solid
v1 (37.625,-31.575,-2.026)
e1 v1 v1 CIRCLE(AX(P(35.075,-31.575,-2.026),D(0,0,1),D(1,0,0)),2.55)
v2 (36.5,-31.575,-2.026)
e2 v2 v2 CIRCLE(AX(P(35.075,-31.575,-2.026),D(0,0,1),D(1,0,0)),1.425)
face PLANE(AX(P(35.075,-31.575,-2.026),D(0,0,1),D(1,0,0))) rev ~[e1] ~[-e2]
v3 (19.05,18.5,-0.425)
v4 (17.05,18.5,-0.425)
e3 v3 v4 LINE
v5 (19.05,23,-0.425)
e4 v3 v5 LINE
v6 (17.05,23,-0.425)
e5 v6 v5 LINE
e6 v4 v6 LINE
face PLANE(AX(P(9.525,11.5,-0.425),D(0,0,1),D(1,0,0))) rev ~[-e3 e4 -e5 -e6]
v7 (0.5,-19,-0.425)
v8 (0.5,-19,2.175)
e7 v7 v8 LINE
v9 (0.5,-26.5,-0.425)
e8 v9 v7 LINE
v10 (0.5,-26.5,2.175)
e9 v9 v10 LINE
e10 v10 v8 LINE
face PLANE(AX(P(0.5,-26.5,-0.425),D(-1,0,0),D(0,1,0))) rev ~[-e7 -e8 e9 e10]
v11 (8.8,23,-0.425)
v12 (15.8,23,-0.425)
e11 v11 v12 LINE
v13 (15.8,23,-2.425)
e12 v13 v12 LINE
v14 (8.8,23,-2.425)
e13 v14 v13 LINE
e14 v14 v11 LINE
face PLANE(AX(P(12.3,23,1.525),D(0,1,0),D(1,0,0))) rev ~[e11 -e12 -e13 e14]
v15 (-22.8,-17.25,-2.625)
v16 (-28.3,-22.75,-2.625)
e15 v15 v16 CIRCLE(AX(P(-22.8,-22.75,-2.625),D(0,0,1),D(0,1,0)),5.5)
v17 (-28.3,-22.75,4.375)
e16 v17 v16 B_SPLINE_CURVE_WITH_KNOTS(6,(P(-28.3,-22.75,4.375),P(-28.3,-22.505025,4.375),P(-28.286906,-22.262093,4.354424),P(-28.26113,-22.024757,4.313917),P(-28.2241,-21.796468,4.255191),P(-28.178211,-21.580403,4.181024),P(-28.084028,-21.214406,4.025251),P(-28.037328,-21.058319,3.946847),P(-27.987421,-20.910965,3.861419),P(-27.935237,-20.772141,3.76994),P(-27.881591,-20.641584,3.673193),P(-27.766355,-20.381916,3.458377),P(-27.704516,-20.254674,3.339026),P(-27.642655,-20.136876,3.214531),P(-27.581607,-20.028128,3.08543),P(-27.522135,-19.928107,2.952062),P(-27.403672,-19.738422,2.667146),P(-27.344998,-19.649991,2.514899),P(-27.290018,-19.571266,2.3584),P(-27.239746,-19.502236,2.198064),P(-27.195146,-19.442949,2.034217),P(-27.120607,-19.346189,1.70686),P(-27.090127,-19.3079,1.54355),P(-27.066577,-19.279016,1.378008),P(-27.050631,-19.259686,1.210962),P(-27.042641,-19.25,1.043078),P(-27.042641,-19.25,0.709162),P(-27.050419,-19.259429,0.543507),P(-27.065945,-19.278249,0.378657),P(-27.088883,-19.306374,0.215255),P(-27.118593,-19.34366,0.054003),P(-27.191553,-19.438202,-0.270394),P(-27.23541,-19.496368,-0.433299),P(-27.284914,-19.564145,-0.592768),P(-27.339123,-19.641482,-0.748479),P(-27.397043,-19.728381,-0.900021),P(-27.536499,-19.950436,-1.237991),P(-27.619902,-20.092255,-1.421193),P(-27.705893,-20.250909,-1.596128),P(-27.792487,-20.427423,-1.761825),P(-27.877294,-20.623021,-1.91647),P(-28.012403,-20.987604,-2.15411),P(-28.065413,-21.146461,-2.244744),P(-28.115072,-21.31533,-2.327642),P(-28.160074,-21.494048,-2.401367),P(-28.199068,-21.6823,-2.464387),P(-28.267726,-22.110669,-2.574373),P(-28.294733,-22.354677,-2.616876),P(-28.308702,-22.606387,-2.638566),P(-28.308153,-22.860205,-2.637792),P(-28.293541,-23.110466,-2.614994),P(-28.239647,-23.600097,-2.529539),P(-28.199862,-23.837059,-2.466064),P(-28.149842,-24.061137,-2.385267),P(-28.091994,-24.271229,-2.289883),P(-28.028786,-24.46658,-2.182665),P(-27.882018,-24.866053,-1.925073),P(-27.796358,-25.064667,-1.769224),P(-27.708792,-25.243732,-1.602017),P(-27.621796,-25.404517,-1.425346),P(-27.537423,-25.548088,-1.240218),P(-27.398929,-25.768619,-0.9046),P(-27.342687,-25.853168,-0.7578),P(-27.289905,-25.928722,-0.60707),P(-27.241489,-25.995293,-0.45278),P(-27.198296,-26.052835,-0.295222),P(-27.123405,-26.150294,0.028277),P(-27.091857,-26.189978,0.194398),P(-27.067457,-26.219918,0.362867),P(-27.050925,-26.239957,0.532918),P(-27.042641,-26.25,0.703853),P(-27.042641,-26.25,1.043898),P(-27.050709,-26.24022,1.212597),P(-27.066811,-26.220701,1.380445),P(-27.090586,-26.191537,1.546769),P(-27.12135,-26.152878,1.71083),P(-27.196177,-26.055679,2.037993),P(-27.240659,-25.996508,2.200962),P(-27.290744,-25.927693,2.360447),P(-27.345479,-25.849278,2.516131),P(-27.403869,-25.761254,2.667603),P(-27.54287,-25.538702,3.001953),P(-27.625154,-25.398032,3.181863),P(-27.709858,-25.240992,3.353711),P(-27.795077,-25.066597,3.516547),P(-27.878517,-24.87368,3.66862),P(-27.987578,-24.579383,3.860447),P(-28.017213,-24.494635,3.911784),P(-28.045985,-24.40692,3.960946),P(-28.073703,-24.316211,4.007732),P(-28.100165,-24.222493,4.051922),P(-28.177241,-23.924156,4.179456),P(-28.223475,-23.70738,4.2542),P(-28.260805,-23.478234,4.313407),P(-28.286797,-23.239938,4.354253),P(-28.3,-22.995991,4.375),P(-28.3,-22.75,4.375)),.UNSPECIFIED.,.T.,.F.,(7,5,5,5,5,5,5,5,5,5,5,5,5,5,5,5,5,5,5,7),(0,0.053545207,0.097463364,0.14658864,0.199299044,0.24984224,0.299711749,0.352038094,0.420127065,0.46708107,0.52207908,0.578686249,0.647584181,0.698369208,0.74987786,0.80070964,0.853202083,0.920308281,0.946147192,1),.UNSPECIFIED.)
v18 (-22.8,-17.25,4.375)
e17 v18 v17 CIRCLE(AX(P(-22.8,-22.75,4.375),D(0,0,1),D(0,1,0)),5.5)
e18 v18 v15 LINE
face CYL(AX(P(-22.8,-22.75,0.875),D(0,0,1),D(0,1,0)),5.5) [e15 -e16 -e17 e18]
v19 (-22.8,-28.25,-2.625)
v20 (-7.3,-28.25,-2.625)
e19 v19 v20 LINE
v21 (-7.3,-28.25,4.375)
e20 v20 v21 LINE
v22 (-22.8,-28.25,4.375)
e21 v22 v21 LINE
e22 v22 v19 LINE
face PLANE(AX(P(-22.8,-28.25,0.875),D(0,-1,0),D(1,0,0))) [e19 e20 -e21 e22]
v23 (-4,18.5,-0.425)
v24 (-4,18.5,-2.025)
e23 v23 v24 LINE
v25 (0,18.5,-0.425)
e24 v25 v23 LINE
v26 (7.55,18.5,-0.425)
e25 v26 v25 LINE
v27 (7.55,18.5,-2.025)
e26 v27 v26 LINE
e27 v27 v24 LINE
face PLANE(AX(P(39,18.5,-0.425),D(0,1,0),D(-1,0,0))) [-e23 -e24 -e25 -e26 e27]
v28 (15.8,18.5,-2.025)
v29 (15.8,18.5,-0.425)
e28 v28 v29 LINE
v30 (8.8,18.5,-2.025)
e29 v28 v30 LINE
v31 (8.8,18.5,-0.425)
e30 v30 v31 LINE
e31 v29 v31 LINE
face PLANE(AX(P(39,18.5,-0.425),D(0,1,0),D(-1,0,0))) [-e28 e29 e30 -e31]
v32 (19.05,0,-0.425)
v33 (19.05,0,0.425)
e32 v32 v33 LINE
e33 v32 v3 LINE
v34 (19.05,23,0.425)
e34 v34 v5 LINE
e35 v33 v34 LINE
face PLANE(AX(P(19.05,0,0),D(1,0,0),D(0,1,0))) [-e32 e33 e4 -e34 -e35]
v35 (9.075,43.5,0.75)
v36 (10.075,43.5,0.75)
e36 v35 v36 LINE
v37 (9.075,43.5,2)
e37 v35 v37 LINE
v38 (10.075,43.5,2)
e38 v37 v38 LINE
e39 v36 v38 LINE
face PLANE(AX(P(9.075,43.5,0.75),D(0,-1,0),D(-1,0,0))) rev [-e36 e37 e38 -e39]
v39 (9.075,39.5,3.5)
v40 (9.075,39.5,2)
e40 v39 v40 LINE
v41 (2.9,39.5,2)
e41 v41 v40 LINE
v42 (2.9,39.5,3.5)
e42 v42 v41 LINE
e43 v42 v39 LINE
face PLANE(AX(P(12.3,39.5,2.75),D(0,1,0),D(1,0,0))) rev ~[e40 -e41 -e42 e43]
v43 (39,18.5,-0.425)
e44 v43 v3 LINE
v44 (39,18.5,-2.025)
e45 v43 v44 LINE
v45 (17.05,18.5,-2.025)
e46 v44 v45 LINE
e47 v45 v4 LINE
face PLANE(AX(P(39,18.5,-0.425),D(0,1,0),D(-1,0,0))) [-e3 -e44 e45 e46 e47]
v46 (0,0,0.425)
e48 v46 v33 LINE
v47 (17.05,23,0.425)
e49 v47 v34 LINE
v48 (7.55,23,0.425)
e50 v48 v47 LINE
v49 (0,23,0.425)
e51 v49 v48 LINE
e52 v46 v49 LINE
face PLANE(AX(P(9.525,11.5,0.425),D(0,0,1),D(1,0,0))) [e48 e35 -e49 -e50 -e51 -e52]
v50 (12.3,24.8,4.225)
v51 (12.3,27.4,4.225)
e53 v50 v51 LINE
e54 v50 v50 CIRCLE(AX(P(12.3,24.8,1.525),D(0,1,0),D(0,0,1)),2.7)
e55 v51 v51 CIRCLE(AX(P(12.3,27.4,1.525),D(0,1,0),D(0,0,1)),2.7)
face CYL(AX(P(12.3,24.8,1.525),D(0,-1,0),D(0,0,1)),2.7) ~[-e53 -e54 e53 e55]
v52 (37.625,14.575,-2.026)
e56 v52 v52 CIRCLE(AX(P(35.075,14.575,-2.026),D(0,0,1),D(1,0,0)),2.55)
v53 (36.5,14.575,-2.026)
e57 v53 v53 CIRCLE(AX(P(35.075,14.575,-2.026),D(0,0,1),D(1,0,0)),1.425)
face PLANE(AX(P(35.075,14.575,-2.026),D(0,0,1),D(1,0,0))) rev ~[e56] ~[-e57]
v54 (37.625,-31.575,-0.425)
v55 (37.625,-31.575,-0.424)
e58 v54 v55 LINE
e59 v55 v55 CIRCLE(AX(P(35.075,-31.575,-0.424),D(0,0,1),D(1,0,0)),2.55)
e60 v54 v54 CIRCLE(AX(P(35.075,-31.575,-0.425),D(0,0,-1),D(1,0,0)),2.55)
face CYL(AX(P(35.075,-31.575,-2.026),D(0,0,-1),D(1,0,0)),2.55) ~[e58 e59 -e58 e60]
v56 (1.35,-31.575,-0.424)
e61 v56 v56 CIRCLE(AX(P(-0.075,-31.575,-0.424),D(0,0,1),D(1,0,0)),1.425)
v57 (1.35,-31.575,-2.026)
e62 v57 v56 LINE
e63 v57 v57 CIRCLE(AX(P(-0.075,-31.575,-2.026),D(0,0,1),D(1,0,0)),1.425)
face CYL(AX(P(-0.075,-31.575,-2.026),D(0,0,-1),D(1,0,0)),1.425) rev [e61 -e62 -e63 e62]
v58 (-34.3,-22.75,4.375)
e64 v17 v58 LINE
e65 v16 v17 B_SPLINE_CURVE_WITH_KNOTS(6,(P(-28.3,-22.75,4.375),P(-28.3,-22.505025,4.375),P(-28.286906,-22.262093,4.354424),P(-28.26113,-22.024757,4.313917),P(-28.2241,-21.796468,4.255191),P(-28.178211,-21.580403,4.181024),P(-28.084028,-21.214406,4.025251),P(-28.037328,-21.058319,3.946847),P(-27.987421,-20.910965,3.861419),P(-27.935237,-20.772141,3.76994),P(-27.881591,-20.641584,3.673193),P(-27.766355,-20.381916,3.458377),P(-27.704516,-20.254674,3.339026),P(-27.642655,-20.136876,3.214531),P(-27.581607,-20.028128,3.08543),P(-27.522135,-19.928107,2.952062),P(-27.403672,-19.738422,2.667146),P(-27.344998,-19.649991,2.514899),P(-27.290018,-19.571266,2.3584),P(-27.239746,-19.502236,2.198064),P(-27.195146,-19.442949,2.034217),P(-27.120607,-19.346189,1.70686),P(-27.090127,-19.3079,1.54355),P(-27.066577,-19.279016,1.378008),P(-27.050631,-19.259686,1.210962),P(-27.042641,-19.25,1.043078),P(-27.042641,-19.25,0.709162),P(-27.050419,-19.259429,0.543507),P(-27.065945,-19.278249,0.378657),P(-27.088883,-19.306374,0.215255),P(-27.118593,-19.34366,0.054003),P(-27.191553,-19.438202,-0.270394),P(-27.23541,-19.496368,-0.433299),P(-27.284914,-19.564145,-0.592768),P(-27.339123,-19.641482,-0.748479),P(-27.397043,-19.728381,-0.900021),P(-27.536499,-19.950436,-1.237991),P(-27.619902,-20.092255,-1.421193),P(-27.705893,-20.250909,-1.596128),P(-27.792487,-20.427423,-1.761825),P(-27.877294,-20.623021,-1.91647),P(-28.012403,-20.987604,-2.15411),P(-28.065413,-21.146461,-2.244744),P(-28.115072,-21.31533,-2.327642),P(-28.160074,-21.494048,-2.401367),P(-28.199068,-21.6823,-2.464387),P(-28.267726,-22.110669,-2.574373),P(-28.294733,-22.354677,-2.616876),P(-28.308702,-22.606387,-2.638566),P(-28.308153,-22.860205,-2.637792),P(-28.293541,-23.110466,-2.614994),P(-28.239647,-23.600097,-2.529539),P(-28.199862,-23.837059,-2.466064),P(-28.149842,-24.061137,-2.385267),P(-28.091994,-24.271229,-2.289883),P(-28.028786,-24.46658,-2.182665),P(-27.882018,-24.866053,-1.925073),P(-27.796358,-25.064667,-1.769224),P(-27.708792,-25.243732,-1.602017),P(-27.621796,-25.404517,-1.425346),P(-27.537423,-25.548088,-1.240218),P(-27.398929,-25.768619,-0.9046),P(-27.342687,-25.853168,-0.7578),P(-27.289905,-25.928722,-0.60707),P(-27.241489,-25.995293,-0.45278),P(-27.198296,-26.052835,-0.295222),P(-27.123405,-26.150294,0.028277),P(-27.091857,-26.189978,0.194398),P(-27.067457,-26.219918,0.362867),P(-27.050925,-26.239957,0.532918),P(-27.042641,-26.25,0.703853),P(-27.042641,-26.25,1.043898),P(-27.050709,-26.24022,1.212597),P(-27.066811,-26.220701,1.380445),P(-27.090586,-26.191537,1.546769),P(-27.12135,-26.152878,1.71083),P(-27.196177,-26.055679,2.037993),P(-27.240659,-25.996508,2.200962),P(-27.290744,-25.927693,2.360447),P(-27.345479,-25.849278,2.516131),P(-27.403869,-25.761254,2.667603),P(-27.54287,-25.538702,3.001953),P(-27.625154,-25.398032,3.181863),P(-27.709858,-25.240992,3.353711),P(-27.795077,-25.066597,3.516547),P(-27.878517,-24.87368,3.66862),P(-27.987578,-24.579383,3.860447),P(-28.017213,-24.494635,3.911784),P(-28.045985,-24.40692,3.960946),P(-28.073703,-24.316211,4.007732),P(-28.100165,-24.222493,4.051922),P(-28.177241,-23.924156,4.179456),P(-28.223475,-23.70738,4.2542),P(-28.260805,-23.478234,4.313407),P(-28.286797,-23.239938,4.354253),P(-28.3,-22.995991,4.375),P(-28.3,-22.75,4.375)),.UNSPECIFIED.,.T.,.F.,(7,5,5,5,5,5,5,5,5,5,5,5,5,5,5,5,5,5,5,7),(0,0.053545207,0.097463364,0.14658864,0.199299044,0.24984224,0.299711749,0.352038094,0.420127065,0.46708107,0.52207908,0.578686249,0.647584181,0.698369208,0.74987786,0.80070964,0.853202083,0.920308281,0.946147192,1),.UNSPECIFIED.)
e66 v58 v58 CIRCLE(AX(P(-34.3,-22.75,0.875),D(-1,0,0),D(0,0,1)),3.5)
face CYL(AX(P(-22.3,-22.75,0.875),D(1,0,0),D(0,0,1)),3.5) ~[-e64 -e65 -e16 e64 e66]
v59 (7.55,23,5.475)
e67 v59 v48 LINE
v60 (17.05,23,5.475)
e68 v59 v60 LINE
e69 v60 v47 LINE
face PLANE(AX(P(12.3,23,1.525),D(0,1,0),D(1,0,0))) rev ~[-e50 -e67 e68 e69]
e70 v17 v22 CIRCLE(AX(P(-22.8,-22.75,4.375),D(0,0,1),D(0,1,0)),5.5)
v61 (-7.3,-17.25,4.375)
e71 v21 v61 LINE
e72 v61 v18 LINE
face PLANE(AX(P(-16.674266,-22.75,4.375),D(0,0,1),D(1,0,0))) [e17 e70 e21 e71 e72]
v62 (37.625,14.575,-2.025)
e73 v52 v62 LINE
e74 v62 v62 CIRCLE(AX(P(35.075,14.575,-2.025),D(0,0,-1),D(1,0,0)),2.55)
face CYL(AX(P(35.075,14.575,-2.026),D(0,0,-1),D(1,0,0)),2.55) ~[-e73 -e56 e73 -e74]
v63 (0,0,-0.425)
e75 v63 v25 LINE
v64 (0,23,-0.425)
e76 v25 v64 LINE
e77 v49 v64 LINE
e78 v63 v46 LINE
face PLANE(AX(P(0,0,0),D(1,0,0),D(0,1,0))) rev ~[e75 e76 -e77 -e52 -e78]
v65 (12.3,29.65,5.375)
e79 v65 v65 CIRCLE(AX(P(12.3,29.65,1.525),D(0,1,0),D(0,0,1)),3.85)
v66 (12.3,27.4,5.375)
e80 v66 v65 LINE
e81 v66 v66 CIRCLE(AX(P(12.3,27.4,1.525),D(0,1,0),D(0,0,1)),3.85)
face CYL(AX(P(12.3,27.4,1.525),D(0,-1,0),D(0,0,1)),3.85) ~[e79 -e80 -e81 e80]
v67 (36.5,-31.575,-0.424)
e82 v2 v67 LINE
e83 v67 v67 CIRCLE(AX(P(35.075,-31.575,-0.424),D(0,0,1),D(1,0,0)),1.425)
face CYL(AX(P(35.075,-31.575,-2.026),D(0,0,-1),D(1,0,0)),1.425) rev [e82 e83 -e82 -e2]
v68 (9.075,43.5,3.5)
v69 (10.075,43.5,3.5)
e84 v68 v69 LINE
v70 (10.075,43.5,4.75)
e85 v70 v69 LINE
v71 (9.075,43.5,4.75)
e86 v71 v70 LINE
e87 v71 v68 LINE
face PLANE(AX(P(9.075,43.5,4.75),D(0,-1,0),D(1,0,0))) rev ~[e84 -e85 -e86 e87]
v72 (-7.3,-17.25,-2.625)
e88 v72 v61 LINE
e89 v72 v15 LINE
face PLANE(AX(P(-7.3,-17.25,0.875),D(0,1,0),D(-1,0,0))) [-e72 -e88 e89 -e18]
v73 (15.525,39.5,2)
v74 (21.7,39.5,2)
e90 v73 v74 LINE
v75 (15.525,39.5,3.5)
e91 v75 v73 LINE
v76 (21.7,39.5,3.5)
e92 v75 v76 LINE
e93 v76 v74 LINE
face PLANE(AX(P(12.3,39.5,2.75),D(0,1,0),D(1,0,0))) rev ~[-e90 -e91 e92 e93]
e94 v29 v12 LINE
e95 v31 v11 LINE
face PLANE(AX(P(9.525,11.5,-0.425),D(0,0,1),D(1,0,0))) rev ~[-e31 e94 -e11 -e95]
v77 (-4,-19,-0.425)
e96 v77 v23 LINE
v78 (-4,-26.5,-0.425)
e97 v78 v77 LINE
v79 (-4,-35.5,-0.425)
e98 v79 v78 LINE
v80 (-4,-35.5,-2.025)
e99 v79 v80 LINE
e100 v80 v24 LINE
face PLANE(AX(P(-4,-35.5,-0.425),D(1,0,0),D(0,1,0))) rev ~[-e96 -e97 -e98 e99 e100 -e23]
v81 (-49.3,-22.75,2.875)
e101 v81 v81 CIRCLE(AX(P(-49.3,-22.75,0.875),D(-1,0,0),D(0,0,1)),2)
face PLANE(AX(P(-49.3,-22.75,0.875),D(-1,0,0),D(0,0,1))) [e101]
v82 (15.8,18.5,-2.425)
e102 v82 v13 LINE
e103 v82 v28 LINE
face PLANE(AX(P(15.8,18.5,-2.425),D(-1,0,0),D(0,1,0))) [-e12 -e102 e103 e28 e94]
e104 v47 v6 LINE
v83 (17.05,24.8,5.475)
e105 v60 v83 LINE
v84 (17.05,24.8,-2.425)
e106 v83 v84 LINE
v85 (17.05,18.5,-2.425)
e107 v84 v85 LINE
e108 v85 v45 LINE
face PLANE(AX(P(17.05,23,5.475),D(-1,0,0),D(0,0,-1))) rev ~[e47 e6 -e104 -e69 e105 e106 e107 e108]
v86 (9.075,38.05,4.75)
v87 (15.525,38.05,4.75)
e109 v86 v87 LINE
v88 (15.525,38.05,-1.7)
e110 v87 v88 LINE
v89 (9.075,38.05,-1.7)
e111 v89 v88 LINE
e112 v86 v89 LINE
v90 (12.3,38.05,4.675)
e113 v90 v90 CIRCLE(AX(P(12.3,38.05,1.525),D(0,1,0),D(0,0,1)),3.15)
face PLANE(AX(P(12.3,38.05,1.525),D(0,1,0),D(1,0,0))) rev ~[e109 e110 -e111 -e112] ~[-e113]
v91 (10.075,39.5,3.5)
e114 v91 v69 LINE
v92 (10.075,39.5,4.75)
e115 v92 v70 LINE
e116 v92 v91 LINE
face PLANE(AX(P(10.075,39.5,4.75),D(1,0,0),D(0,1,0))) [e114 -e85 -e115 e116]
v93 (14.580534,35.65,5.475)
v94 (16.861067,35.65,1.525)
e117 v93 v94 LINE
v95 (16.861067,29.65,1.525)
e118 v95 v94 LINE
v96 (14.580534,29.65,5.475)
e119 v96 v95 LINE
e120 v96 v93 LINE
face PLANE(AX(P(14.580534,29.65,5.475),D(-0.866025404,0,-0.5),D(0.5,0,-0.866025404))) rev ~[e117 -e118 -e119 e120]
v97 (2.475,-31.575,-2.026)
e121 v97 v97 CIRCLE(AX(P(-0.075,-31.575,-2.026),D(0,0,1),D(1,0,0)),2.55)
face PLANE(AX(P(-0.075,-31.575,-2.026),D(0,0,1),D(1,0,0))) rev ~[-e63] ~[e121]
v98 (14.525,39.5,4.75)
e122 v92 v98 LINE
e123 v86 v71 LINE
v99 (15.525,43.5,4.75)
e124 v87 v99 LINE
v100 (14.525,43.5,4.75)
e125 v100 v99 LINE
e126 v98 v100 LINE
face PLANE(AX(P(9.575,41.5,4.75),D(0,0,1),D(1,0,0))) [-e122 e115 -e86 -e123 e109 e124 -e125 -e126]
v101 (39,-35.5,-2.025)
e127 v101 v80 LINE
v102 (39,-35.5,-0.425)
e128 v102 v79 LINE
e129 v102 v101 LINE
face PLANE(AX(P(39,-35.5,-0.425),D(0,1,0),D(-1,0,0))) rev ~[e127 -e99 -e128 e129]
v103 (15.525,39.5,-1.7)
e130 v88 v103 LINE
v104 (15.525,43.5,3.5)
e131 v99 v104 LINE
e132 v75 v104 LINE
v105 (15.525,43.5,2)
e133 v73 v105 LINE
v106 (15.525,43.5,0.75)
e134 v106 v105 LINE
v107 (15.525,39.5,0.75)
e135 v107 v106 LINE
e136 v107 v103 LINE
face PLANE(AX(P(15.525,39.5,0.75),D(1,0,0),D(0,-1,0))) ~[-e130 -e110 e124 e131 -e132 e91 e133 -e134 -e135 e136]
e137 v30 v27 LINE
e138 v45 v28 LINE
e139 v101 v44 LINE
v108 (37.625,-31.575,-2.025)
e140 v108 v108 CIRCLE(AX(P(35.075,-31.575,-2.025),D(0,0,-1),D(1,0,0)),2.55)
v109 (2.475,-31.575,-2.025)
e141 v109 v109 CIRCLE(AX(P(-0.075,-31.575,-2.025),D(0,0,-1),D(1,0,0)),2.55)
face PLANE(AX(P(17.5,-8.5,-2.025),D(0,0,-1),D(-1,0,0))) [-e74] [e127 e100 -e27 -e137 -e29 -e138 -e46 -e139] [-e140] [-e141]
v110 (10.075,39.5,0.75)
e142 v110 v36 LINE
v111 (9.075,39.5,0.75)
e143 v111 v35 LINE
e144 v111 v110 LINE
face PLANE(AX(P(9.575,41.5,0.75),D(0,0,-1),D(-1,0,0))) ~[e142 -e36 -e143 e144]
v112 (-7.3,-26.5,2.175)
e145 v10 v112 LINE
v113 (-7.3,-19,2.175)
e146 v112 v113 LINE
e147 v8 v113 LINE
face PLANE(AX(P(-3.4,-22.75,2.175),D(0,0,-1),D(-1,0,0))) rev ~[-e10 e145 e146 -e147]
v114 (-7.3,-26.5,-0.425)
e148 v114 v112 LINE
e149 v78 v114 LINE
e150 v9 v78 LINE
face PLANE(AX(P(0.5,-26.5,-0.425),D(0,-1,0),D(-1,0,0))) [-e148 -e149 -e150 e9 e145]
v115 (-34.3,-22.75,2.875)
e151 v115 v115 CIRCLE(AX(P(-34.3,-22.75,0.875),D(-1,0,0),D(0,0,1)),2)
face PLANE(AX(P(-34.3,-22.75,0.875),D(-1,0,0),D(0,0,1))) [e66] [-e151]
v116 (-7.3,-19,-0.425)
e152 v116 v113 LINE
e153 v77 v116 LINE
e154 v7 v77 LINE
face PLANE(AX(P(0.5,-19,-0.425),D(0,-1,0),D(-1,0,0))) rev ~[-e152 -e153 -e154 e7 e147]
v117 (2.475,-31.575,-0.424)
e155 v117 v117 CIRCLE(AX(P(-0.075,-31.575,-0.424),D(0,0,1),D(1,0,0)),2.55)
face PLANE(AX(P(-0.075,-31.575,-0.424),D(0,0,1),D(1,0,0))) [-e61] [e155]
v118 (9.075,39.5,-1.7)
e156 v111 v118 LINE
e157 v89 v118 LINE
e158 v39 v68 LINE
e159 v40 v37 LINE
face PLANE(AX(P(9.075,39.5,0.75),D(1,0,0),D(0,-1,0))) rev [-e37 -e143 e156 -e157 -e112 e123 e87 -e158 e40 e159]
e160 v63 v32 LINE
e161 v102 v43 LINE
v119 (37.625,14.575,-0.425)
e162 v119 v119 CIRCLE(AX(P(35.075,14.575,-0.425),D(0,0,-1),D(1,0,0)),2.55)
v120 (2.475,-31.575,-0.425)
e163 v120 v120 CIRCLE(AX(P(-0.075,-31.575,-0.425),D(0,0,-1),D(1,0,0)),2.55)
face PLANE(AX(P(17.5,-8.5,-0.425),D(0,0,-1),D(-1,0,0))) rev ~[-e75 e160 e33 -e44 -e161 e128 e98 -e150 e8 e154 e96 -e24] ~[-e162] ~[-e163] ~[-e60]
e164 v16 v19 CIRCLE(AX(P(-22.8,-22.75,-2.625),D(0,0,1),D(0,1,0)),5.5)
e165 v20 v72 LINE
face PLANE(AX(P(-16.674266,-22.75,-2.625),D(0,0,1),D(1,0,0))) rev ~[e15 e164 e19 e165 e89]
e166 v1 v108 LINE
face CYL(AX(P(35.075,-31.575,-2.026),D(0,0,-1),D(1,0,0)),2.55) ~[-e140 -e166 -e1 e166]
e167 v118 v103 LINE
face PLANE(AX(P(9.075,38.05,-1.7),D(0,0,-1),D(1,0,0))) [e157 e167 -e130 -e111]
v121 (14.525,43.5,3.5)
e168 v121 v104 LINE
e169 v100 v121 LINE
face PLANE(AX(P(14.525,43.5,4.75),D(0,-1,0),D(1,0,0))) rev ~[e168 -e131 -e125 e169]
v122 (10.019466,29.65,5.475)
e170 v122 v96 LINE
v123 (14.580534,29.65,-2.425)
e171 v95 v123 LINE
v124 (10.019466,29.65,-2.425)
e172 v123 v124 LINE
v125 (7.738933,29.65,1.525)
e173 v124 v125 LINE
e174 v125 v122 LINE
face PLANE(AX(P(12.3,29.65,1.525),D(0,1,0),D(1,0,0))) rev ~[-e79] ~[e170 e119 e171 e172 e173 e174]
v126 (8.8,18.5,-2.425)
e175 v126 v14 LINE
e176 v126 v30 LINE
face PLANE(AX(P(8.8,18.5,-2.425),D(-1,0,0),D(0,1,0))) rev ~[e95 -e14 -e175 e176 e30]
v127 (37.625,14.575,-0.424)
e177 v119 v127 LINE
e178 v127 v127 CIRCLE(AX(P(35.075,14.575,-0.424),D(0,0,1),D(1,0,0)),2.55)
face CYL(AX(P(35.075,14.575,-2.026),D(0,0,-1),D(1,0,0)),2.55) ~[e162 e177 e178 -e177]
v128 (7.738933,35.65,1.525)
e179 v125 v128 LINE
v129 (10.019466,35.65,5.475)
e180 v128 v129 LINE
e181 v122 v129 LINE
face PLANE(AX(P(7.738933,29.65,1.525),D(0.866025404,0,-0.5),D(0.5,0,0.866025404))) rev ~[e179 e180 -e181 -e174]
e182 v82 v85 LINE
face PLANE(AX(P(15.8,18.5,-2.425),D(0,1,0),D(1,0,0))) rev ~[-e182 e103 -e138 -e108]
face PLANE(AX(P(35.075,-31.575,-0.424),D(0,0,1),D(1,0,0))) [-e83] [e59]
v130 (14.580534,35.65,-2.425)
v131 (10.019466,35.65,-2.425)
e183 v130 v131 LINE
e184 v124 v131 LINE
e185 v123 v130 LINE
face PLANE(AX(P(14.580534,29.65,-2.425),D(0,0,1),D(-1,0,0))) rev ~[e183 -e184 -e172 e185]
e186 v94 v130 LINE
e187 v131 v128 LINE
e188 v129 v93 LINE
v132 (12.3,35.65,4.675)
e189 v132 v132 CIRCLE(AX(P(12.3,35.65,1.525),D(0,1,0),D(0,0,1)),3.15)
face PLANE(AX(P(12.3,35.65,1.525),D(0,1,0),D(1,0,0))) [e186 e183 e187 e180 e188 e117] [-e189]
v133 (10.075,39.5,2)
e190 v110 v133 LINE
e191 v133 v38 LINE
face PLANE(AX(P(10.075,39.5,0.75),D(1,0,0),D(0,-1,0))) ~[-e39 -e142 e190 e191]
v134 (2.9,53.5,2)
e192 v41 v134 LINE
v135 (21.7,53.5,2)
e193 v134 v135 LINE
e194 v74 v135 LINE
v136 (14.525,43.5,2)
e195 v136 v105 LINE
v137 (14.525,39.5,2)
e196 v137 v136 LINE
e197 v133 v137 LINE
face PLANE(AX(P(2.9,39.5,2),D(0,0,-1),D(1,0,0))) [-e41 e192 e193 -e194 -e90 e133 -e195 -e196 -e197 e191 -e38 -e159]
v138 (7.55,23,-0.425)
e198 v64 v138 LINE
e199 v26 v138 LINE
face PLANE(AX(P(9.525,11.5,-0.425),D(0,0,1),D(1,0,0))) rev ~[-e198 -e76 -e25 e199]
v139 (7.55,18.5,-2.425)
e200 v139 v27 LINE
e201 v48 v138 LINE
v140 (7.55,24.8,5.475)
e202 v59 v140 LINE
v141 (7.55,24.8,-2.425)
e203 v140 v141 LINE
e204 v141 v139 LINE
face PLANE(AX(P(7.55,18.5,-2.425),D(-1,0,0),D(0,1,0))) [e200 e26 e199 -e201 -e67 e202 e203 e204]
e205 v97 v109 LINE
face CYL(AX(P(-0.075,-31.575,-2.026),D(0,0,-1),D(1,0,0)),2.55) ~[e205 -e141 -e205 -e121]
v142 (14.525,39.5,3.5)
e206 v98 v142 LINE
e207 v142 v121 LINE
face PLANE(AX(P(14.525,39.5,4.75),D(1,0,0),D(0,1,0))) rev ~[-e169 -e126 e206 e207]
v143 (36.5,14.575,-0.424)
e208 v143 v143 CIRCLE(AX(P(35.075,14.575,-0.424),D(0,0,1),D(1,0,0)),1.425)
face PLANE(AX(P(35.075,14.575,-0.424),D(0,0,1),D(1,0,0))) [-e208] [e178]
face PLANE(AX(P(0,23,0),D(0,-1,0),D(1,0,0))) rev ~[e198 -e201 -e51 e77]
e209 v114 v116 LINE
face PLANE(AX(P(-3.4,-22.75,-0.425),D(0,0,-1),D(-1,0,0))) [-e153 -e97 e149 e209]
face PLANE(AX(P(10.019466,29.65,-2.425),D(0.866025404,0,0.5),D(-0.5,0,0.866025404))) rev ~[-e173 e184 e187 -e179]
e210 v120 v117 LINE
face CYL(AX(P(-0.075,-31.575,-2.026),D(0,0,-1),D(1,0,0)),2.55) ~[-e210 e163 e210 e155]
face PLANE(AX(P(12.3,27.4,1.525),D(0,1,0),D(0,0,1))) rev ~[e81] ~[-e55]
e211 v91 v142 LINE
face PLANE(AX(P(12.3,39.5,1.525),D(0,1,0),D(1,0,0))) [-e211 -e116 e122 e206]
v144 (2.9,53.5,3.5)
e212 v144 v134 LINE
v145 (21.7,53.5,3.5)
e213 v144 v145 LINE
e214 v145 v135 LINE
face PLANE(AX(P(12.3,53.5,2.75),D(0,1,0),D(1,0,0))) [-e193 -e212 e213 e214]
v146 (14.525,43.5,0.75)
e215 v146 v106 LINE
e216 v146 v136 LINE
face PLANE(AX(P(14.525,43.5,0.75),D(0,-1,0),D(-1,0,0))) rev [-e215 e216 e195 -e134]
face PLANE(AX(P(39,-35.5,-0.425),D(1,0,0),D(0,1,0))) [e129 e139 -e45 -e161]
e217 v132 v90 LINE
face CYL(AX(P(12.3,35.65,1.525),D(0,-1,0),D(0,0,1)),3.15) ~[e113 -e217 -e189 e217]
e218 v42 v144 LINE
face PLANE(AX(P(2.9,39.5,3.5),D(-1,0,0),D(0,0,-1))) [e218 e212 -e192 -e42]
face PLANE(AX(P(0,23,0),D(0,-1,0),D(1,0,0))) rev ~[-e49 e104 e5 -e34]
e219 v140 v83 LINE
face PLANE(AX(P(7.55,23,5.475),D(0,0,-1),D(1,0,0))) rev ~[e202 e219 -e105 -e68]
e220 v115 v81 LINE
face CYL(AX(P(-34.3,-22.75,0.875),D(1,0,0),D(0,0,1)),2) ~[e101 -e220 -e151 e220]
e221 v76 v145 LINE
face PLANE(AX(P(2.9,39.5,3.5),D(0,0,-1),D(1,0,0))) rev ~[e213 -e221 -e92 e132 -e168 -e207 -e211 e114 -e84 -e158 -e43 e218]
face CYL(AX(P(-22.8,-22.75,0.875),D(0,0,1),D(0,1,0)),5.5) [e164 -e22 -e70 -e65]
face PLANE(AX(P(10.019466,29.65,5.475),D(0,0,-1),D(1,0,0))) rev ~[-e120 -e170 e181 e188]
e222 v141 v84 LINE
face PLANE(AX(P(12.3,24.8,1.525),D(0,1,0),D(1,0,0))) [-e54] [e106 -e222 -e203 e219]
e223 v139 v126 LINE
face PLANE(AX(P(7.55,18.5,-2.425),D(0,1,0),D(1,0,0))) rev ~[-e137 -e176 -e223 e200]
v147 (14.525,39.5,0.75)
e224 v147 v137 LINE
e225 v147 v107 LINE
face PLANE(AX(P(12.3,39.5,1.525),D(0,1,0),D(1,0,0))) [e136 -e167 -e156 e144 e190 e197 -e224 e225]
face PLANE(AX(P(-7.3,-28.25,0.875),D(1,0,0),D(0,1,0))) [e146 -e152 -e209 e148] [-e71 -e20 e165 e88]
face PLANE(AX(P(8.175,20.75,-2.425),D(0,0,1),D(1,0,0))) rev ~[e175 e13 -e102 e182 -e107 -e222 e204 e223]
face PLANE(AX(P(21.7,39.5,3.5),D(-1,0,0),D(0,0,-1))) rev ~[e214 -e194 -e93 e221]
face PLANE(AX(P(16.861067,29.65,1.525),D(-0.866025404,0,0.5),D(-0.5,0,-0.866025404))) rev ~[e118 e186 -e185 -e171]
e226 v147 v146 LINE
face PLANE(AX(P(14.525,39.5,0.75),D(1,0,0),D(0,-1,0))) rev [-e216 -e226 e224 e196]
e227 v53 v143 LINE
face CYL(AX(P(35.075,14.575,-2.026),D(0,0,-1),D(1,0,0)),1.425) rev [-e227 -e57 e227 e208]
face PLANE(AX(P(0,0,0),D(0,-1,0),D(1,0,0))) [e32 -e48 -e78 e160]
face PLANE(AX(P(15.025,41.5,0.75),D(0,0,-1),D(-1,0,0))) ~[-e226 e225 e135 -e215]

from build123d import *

# Parameters (mm, degrees)
SKETCH1_W                     = 19.05
SKETCH1_H                     = 23
BLUE_PCB_DEPTH                = 0.425
SKETCH20_W                    = 43
SKETCH20_H                    = 54
GREEN_PCB_DEPTH               = 1.6
SKETCH21_R                    = 1.425
MOUNTING_HOLES_DEPTH          = 53.76182332
SCREW_MASK_DEPTH              = 0.801
SCREW_MASK_DEPTH_BACK         = 0.801
SKETCH22_R                    = 2.55
SKETCH22_R_2                  = 1.425
SKETCH4_W                     = 9.5
SKETCH4_H                     = 7.9
ANTENNA1_DEPTH                = 1.8
SKETCH10_W                    = 1.25
SKETCH10_H                    = 4.5
ANTENNA2_DEPTH                = 2
SKETCH5_R                     = 2.7
ANTENNA3_DEPTH                = 2.6
SKETCH6_R                     = 3.85
ANTENNA4_DEPTH                = 2.25
ANTENNA5_DEPTH                = 6
SKETCH8_R                     = 3.15
ANTENNA6_DEPTH                = 2.4
SKETCH9_W                     = 6.45
SKETCH9_H                     = 6.45
ANTENNA7_DEPTH                = 1.45
SKETCH19_W                    = 1
SKETCH19_H                    = 4
ANTENNA8_DEPTH                = 1.25
SKETCH11_W                    = 18.8
SKETCH11_H                    = 1.5
ANTENNA_PCB_DEPTH             = 14
SKETCH14_W                    = 7.8
SKETCH14_H                    = 7.5
USB_PORT_DEPTH                = 2.6
USB_BODY_DEPTH                = 3.5
USB_TENSION_RELIEF_DEPTH      = 6
USB_TENSION_RELIEF_DEPTH_BACK = 6
SKETCH17_R                    = 3.5
SKETCH18_R                    = 2
USB_CORD_DEPTH                = 15


with BuildPart() as part:
    # Sketch1 → Blue PCB (new, symmetric)
    with BuildSketch(Plane.XY):
        with Locations((9.525, 11.5)):
            Rectangle(SKETCH1_W, SKETCH1_H)
    extrude(amount=BLUE_PCB_DEPTH, both=True)

    # Sketch20 → Green PCB (add)
    with BuildSketch(Plane(origin=(0, 0, -0.425), x_dir=(-1, 0, 0), z_dir=(0, 0, -1))):
        with Locations((-17.5, -8.5)):
            Rectangle(SKETCH20_W, SKETCH20_H)
    extrude(amount=GREEN_PCB_DEPTH)

    # Sketch21 → Mounting Holes (cut, through all)
    with BuildSketch(Plane.XY.offset(-0.425)):
        with Locations((35.075, 14.575)):
            Circle(SKETCH21_R)
        with Locations((35.075, -31.575)):
            Circle(SKETCH21_R)
        with Locations((-0.075, -31.575)):
            Circle(SKETCH21_R)
    extrude(amount=-MOUNTING_HOLES_DEPTH, mode=Mode.SUBTRACT)

    # Sketch22 → Screw Mask (add, two sides: drawn at the far end of the back side and taken through both)
    # profile 1 of 3: a face of its own
    with BuildSketch(Plane.XY.offset(-1.225).offset(-SCREW_MASK_DEPTH_BACK)):
        with Locations((35.075, 14.575)):
            Circle(SKETCH22_R)
        with Locations((35.075, 14.575)):
            Circle(SKETCH22_R_2, mode=Mode.SUBTRACT)
    # profile 2 of 3: a face of its own
    with BuildSketch(Plane.XY.offset(-1.225).offset(-SCREW_MASK_DEPTH_BACK)):
        with Locations((35.075, -31.575)):
            Circle(SKETCH22_R)
        with Locations((35.075, -31.575)):
            Circle(SKETCH22_R_2, mode=Mode.SUBTRACT)
    # profile 3 of 3: a face of its own
    with BuildSketch(Plane.XY.offset(-1.225).offset(-SCREW_MASK_DEPTH_BACK)):
        with Locations((-0.075, -31.575)):
            Circle(SKETCH22_R)
        with Locations((-0.075, -31.575)):
            Circle(SKETCH22_R_2, mode=Mode.SUBTRACT)
    extrude(amount=SCREW_MASK_DEPTH + SCREW_MASK_DEPTH_BACK)

    # Sketch4 → Antenna1 (add)
    with BuildSketch(Plane(origin=(0, 23, 0), x_dir=(1, 0, 0), z_dir=(0, 1, 0))):
        with Locations((12.3, -1.525)):
            Rectangle(SKETCH4_W, SKETCH4_H)
    extrude(amount=ANTENNA1_DEPTH)

    # Sketch10 → Antenna2 (add)
    with BuildSketch(Plane.XY.offset(-2.425)):
        with Locations((8.175, 20.75)):
            Rectangle(SKETCH10_W, SKETCH10_H)
        with Locations((16.425, 20.75)):
            Rectangle(SKETCH10_W, SKETCH10_H)
    extrude(amount=ANTENNA2_DEPTH)

    # Sketch5 → Antenna3 (add)
    with BuildSketch(Plane(origin=(0, 24.8, 0), x_dir=(1, 0, 0), z_dir=(0, 1, 0))):
        with Locations(Location((12.3, -1.525, 0), (0, 0, 270))):
            Circle(SKETCH5_R)
    extrude(amount=ANTENNA3_DEPTH)

    # Sketch6 → Antenna4 (add)
    with BuildSketch(Plane(origin=(0, 27.4, 0), x_dir=(1, 0, 0), z_dir=(0, 1, 0))):
        with Locations(Location((12.3, -1.525, 0), (0, 0, 270))):
            Circle(SKETCH6_R)
    extrude(amount=ANTENNA4_DEPTH)

    # Sketch7 → Antenna5 (add)
    with BuildSketch(Plane(origin=(0, 29.65, 0), x_dir=(1, 0, 0), z_dir=(0, 1, 0))):
        Polygon((10.019466437, -5.475), (14.580533563, -5.475), (16.861067127, -1.525), (14.580533563, 2.425), (10.019466437, 2.425), (7.738932873, -1.525), align=None)
    extrude(amount=ANTENNA5_DEPTH)

    # Sketch8 → Antenna6 (add)
    with BuildSketch(Plane(origin=(0, 35.65, 0), x_dir=(1, 0, 0), z_dir=(0, 1, 0))):
        with Locations(Location((12.3, -1.525, 0), (0, 0, 270))):
            Circle(SKETCH8_R)
    extrude(amount=ANTENNA6_DEPTH)

    # Sketch9 → Antenna7 (add)
    with BuildSketch(Plane(origin=(0, 38.05, 0), x_dir=(1, 0, 0), z_dir=(0, 1, 0))):
        with Locations((12.3, -1.525)):
            Rectangle(SKETCH9_W, SKETCH9_H)
    extrude(amount=ANTENNA7_DEPTH)

    # Sketch19 → Antenna8 (add)
    with BuildSketch(Plane.XY.offset(4.75)):
        with Locations((9.575, 41.5)):
            Rectangle(SKETCH19_W, SKETCH19_H)
        with Locations((15.025, 41.5)):
            Rectangle(SKETCH19_W, SKETCH19_H)
    antenna8 = extrude(amount=-ANTENNA8_DEPTH)

    # Sketch11 → Antenna PCB (add)
    with BuildSketch(Plane(origin=(0, 39.5, 0), x_dir=(1, 0, 0), z_dir=(0, 1, 0))):
        with Locations((12.3, -2.75)):
            Rectangle(SKETCH11_W, SKETCH11_H)
    extrude(amount=ANTENNA_PCB_DEPTH)

    # Sketch14 → USB Port (add)
    with BuildSketch(Plane(origin=(0, 0, -0.425), x_dir=(-1, 0, 0), z_dir=(0, 0, -1))):
        with Locations((3.4, -22.75)):
            Rectangle(SKETCH14_W, SKETCH14_H)
    extrude(amount=-USB_PORT_DEPTH)

    # Sketch16 → USB Body (add, symmetric)
    with BuildSketch(Plane.XY.offset(0.875)):
        with BuildLine():
            Line((-22.8, -28.25), (-7.3, -28.25))
            Line((-7.3, -28.25), (-7.3, -17.25))
            Line((-7.3, -17.25), (-22.8, -17.25))
            ThreePointArc((-22.8, -17.25), (-28.3, -22.75), (-22.8, -28.25))
        make_face()
    extrude(amount=USB_BODY_DEPTH, both=True)

    # Sketch17 → USB Tension Relief (add, two sides: drawn at the far end of the back side and taken through both)
    with BuildSketch(Plane.ZY.offset(28.3).offset(-USB_TENSION_RELIEF_DEPTH_BACK)):
        with Locations((0.875, -22.75)):
            Circle(SKETCH17_R)
    extrude(amount=USB_TENSION_RELIEF_DEPTH + USB_TENSION_RELIEF_DEPTH_BACK)

    # Sketch18 → USB Cord (add)
    with BuildSketch(Plane.ZY.offset(34.3)):
        with Locations((0.875, -22.75)):
            Circle(SKETCH18_R)
    extrude(amount=USB_CORD_DEPTH)

    # Mirror1: Antenna8 across plane
    add(antenna8.mirror(Plane(origin=(0, 0, 2.75), x_dir=(1, 0, 0), z_dir=(0, 0, -1))))


solid = part.part
